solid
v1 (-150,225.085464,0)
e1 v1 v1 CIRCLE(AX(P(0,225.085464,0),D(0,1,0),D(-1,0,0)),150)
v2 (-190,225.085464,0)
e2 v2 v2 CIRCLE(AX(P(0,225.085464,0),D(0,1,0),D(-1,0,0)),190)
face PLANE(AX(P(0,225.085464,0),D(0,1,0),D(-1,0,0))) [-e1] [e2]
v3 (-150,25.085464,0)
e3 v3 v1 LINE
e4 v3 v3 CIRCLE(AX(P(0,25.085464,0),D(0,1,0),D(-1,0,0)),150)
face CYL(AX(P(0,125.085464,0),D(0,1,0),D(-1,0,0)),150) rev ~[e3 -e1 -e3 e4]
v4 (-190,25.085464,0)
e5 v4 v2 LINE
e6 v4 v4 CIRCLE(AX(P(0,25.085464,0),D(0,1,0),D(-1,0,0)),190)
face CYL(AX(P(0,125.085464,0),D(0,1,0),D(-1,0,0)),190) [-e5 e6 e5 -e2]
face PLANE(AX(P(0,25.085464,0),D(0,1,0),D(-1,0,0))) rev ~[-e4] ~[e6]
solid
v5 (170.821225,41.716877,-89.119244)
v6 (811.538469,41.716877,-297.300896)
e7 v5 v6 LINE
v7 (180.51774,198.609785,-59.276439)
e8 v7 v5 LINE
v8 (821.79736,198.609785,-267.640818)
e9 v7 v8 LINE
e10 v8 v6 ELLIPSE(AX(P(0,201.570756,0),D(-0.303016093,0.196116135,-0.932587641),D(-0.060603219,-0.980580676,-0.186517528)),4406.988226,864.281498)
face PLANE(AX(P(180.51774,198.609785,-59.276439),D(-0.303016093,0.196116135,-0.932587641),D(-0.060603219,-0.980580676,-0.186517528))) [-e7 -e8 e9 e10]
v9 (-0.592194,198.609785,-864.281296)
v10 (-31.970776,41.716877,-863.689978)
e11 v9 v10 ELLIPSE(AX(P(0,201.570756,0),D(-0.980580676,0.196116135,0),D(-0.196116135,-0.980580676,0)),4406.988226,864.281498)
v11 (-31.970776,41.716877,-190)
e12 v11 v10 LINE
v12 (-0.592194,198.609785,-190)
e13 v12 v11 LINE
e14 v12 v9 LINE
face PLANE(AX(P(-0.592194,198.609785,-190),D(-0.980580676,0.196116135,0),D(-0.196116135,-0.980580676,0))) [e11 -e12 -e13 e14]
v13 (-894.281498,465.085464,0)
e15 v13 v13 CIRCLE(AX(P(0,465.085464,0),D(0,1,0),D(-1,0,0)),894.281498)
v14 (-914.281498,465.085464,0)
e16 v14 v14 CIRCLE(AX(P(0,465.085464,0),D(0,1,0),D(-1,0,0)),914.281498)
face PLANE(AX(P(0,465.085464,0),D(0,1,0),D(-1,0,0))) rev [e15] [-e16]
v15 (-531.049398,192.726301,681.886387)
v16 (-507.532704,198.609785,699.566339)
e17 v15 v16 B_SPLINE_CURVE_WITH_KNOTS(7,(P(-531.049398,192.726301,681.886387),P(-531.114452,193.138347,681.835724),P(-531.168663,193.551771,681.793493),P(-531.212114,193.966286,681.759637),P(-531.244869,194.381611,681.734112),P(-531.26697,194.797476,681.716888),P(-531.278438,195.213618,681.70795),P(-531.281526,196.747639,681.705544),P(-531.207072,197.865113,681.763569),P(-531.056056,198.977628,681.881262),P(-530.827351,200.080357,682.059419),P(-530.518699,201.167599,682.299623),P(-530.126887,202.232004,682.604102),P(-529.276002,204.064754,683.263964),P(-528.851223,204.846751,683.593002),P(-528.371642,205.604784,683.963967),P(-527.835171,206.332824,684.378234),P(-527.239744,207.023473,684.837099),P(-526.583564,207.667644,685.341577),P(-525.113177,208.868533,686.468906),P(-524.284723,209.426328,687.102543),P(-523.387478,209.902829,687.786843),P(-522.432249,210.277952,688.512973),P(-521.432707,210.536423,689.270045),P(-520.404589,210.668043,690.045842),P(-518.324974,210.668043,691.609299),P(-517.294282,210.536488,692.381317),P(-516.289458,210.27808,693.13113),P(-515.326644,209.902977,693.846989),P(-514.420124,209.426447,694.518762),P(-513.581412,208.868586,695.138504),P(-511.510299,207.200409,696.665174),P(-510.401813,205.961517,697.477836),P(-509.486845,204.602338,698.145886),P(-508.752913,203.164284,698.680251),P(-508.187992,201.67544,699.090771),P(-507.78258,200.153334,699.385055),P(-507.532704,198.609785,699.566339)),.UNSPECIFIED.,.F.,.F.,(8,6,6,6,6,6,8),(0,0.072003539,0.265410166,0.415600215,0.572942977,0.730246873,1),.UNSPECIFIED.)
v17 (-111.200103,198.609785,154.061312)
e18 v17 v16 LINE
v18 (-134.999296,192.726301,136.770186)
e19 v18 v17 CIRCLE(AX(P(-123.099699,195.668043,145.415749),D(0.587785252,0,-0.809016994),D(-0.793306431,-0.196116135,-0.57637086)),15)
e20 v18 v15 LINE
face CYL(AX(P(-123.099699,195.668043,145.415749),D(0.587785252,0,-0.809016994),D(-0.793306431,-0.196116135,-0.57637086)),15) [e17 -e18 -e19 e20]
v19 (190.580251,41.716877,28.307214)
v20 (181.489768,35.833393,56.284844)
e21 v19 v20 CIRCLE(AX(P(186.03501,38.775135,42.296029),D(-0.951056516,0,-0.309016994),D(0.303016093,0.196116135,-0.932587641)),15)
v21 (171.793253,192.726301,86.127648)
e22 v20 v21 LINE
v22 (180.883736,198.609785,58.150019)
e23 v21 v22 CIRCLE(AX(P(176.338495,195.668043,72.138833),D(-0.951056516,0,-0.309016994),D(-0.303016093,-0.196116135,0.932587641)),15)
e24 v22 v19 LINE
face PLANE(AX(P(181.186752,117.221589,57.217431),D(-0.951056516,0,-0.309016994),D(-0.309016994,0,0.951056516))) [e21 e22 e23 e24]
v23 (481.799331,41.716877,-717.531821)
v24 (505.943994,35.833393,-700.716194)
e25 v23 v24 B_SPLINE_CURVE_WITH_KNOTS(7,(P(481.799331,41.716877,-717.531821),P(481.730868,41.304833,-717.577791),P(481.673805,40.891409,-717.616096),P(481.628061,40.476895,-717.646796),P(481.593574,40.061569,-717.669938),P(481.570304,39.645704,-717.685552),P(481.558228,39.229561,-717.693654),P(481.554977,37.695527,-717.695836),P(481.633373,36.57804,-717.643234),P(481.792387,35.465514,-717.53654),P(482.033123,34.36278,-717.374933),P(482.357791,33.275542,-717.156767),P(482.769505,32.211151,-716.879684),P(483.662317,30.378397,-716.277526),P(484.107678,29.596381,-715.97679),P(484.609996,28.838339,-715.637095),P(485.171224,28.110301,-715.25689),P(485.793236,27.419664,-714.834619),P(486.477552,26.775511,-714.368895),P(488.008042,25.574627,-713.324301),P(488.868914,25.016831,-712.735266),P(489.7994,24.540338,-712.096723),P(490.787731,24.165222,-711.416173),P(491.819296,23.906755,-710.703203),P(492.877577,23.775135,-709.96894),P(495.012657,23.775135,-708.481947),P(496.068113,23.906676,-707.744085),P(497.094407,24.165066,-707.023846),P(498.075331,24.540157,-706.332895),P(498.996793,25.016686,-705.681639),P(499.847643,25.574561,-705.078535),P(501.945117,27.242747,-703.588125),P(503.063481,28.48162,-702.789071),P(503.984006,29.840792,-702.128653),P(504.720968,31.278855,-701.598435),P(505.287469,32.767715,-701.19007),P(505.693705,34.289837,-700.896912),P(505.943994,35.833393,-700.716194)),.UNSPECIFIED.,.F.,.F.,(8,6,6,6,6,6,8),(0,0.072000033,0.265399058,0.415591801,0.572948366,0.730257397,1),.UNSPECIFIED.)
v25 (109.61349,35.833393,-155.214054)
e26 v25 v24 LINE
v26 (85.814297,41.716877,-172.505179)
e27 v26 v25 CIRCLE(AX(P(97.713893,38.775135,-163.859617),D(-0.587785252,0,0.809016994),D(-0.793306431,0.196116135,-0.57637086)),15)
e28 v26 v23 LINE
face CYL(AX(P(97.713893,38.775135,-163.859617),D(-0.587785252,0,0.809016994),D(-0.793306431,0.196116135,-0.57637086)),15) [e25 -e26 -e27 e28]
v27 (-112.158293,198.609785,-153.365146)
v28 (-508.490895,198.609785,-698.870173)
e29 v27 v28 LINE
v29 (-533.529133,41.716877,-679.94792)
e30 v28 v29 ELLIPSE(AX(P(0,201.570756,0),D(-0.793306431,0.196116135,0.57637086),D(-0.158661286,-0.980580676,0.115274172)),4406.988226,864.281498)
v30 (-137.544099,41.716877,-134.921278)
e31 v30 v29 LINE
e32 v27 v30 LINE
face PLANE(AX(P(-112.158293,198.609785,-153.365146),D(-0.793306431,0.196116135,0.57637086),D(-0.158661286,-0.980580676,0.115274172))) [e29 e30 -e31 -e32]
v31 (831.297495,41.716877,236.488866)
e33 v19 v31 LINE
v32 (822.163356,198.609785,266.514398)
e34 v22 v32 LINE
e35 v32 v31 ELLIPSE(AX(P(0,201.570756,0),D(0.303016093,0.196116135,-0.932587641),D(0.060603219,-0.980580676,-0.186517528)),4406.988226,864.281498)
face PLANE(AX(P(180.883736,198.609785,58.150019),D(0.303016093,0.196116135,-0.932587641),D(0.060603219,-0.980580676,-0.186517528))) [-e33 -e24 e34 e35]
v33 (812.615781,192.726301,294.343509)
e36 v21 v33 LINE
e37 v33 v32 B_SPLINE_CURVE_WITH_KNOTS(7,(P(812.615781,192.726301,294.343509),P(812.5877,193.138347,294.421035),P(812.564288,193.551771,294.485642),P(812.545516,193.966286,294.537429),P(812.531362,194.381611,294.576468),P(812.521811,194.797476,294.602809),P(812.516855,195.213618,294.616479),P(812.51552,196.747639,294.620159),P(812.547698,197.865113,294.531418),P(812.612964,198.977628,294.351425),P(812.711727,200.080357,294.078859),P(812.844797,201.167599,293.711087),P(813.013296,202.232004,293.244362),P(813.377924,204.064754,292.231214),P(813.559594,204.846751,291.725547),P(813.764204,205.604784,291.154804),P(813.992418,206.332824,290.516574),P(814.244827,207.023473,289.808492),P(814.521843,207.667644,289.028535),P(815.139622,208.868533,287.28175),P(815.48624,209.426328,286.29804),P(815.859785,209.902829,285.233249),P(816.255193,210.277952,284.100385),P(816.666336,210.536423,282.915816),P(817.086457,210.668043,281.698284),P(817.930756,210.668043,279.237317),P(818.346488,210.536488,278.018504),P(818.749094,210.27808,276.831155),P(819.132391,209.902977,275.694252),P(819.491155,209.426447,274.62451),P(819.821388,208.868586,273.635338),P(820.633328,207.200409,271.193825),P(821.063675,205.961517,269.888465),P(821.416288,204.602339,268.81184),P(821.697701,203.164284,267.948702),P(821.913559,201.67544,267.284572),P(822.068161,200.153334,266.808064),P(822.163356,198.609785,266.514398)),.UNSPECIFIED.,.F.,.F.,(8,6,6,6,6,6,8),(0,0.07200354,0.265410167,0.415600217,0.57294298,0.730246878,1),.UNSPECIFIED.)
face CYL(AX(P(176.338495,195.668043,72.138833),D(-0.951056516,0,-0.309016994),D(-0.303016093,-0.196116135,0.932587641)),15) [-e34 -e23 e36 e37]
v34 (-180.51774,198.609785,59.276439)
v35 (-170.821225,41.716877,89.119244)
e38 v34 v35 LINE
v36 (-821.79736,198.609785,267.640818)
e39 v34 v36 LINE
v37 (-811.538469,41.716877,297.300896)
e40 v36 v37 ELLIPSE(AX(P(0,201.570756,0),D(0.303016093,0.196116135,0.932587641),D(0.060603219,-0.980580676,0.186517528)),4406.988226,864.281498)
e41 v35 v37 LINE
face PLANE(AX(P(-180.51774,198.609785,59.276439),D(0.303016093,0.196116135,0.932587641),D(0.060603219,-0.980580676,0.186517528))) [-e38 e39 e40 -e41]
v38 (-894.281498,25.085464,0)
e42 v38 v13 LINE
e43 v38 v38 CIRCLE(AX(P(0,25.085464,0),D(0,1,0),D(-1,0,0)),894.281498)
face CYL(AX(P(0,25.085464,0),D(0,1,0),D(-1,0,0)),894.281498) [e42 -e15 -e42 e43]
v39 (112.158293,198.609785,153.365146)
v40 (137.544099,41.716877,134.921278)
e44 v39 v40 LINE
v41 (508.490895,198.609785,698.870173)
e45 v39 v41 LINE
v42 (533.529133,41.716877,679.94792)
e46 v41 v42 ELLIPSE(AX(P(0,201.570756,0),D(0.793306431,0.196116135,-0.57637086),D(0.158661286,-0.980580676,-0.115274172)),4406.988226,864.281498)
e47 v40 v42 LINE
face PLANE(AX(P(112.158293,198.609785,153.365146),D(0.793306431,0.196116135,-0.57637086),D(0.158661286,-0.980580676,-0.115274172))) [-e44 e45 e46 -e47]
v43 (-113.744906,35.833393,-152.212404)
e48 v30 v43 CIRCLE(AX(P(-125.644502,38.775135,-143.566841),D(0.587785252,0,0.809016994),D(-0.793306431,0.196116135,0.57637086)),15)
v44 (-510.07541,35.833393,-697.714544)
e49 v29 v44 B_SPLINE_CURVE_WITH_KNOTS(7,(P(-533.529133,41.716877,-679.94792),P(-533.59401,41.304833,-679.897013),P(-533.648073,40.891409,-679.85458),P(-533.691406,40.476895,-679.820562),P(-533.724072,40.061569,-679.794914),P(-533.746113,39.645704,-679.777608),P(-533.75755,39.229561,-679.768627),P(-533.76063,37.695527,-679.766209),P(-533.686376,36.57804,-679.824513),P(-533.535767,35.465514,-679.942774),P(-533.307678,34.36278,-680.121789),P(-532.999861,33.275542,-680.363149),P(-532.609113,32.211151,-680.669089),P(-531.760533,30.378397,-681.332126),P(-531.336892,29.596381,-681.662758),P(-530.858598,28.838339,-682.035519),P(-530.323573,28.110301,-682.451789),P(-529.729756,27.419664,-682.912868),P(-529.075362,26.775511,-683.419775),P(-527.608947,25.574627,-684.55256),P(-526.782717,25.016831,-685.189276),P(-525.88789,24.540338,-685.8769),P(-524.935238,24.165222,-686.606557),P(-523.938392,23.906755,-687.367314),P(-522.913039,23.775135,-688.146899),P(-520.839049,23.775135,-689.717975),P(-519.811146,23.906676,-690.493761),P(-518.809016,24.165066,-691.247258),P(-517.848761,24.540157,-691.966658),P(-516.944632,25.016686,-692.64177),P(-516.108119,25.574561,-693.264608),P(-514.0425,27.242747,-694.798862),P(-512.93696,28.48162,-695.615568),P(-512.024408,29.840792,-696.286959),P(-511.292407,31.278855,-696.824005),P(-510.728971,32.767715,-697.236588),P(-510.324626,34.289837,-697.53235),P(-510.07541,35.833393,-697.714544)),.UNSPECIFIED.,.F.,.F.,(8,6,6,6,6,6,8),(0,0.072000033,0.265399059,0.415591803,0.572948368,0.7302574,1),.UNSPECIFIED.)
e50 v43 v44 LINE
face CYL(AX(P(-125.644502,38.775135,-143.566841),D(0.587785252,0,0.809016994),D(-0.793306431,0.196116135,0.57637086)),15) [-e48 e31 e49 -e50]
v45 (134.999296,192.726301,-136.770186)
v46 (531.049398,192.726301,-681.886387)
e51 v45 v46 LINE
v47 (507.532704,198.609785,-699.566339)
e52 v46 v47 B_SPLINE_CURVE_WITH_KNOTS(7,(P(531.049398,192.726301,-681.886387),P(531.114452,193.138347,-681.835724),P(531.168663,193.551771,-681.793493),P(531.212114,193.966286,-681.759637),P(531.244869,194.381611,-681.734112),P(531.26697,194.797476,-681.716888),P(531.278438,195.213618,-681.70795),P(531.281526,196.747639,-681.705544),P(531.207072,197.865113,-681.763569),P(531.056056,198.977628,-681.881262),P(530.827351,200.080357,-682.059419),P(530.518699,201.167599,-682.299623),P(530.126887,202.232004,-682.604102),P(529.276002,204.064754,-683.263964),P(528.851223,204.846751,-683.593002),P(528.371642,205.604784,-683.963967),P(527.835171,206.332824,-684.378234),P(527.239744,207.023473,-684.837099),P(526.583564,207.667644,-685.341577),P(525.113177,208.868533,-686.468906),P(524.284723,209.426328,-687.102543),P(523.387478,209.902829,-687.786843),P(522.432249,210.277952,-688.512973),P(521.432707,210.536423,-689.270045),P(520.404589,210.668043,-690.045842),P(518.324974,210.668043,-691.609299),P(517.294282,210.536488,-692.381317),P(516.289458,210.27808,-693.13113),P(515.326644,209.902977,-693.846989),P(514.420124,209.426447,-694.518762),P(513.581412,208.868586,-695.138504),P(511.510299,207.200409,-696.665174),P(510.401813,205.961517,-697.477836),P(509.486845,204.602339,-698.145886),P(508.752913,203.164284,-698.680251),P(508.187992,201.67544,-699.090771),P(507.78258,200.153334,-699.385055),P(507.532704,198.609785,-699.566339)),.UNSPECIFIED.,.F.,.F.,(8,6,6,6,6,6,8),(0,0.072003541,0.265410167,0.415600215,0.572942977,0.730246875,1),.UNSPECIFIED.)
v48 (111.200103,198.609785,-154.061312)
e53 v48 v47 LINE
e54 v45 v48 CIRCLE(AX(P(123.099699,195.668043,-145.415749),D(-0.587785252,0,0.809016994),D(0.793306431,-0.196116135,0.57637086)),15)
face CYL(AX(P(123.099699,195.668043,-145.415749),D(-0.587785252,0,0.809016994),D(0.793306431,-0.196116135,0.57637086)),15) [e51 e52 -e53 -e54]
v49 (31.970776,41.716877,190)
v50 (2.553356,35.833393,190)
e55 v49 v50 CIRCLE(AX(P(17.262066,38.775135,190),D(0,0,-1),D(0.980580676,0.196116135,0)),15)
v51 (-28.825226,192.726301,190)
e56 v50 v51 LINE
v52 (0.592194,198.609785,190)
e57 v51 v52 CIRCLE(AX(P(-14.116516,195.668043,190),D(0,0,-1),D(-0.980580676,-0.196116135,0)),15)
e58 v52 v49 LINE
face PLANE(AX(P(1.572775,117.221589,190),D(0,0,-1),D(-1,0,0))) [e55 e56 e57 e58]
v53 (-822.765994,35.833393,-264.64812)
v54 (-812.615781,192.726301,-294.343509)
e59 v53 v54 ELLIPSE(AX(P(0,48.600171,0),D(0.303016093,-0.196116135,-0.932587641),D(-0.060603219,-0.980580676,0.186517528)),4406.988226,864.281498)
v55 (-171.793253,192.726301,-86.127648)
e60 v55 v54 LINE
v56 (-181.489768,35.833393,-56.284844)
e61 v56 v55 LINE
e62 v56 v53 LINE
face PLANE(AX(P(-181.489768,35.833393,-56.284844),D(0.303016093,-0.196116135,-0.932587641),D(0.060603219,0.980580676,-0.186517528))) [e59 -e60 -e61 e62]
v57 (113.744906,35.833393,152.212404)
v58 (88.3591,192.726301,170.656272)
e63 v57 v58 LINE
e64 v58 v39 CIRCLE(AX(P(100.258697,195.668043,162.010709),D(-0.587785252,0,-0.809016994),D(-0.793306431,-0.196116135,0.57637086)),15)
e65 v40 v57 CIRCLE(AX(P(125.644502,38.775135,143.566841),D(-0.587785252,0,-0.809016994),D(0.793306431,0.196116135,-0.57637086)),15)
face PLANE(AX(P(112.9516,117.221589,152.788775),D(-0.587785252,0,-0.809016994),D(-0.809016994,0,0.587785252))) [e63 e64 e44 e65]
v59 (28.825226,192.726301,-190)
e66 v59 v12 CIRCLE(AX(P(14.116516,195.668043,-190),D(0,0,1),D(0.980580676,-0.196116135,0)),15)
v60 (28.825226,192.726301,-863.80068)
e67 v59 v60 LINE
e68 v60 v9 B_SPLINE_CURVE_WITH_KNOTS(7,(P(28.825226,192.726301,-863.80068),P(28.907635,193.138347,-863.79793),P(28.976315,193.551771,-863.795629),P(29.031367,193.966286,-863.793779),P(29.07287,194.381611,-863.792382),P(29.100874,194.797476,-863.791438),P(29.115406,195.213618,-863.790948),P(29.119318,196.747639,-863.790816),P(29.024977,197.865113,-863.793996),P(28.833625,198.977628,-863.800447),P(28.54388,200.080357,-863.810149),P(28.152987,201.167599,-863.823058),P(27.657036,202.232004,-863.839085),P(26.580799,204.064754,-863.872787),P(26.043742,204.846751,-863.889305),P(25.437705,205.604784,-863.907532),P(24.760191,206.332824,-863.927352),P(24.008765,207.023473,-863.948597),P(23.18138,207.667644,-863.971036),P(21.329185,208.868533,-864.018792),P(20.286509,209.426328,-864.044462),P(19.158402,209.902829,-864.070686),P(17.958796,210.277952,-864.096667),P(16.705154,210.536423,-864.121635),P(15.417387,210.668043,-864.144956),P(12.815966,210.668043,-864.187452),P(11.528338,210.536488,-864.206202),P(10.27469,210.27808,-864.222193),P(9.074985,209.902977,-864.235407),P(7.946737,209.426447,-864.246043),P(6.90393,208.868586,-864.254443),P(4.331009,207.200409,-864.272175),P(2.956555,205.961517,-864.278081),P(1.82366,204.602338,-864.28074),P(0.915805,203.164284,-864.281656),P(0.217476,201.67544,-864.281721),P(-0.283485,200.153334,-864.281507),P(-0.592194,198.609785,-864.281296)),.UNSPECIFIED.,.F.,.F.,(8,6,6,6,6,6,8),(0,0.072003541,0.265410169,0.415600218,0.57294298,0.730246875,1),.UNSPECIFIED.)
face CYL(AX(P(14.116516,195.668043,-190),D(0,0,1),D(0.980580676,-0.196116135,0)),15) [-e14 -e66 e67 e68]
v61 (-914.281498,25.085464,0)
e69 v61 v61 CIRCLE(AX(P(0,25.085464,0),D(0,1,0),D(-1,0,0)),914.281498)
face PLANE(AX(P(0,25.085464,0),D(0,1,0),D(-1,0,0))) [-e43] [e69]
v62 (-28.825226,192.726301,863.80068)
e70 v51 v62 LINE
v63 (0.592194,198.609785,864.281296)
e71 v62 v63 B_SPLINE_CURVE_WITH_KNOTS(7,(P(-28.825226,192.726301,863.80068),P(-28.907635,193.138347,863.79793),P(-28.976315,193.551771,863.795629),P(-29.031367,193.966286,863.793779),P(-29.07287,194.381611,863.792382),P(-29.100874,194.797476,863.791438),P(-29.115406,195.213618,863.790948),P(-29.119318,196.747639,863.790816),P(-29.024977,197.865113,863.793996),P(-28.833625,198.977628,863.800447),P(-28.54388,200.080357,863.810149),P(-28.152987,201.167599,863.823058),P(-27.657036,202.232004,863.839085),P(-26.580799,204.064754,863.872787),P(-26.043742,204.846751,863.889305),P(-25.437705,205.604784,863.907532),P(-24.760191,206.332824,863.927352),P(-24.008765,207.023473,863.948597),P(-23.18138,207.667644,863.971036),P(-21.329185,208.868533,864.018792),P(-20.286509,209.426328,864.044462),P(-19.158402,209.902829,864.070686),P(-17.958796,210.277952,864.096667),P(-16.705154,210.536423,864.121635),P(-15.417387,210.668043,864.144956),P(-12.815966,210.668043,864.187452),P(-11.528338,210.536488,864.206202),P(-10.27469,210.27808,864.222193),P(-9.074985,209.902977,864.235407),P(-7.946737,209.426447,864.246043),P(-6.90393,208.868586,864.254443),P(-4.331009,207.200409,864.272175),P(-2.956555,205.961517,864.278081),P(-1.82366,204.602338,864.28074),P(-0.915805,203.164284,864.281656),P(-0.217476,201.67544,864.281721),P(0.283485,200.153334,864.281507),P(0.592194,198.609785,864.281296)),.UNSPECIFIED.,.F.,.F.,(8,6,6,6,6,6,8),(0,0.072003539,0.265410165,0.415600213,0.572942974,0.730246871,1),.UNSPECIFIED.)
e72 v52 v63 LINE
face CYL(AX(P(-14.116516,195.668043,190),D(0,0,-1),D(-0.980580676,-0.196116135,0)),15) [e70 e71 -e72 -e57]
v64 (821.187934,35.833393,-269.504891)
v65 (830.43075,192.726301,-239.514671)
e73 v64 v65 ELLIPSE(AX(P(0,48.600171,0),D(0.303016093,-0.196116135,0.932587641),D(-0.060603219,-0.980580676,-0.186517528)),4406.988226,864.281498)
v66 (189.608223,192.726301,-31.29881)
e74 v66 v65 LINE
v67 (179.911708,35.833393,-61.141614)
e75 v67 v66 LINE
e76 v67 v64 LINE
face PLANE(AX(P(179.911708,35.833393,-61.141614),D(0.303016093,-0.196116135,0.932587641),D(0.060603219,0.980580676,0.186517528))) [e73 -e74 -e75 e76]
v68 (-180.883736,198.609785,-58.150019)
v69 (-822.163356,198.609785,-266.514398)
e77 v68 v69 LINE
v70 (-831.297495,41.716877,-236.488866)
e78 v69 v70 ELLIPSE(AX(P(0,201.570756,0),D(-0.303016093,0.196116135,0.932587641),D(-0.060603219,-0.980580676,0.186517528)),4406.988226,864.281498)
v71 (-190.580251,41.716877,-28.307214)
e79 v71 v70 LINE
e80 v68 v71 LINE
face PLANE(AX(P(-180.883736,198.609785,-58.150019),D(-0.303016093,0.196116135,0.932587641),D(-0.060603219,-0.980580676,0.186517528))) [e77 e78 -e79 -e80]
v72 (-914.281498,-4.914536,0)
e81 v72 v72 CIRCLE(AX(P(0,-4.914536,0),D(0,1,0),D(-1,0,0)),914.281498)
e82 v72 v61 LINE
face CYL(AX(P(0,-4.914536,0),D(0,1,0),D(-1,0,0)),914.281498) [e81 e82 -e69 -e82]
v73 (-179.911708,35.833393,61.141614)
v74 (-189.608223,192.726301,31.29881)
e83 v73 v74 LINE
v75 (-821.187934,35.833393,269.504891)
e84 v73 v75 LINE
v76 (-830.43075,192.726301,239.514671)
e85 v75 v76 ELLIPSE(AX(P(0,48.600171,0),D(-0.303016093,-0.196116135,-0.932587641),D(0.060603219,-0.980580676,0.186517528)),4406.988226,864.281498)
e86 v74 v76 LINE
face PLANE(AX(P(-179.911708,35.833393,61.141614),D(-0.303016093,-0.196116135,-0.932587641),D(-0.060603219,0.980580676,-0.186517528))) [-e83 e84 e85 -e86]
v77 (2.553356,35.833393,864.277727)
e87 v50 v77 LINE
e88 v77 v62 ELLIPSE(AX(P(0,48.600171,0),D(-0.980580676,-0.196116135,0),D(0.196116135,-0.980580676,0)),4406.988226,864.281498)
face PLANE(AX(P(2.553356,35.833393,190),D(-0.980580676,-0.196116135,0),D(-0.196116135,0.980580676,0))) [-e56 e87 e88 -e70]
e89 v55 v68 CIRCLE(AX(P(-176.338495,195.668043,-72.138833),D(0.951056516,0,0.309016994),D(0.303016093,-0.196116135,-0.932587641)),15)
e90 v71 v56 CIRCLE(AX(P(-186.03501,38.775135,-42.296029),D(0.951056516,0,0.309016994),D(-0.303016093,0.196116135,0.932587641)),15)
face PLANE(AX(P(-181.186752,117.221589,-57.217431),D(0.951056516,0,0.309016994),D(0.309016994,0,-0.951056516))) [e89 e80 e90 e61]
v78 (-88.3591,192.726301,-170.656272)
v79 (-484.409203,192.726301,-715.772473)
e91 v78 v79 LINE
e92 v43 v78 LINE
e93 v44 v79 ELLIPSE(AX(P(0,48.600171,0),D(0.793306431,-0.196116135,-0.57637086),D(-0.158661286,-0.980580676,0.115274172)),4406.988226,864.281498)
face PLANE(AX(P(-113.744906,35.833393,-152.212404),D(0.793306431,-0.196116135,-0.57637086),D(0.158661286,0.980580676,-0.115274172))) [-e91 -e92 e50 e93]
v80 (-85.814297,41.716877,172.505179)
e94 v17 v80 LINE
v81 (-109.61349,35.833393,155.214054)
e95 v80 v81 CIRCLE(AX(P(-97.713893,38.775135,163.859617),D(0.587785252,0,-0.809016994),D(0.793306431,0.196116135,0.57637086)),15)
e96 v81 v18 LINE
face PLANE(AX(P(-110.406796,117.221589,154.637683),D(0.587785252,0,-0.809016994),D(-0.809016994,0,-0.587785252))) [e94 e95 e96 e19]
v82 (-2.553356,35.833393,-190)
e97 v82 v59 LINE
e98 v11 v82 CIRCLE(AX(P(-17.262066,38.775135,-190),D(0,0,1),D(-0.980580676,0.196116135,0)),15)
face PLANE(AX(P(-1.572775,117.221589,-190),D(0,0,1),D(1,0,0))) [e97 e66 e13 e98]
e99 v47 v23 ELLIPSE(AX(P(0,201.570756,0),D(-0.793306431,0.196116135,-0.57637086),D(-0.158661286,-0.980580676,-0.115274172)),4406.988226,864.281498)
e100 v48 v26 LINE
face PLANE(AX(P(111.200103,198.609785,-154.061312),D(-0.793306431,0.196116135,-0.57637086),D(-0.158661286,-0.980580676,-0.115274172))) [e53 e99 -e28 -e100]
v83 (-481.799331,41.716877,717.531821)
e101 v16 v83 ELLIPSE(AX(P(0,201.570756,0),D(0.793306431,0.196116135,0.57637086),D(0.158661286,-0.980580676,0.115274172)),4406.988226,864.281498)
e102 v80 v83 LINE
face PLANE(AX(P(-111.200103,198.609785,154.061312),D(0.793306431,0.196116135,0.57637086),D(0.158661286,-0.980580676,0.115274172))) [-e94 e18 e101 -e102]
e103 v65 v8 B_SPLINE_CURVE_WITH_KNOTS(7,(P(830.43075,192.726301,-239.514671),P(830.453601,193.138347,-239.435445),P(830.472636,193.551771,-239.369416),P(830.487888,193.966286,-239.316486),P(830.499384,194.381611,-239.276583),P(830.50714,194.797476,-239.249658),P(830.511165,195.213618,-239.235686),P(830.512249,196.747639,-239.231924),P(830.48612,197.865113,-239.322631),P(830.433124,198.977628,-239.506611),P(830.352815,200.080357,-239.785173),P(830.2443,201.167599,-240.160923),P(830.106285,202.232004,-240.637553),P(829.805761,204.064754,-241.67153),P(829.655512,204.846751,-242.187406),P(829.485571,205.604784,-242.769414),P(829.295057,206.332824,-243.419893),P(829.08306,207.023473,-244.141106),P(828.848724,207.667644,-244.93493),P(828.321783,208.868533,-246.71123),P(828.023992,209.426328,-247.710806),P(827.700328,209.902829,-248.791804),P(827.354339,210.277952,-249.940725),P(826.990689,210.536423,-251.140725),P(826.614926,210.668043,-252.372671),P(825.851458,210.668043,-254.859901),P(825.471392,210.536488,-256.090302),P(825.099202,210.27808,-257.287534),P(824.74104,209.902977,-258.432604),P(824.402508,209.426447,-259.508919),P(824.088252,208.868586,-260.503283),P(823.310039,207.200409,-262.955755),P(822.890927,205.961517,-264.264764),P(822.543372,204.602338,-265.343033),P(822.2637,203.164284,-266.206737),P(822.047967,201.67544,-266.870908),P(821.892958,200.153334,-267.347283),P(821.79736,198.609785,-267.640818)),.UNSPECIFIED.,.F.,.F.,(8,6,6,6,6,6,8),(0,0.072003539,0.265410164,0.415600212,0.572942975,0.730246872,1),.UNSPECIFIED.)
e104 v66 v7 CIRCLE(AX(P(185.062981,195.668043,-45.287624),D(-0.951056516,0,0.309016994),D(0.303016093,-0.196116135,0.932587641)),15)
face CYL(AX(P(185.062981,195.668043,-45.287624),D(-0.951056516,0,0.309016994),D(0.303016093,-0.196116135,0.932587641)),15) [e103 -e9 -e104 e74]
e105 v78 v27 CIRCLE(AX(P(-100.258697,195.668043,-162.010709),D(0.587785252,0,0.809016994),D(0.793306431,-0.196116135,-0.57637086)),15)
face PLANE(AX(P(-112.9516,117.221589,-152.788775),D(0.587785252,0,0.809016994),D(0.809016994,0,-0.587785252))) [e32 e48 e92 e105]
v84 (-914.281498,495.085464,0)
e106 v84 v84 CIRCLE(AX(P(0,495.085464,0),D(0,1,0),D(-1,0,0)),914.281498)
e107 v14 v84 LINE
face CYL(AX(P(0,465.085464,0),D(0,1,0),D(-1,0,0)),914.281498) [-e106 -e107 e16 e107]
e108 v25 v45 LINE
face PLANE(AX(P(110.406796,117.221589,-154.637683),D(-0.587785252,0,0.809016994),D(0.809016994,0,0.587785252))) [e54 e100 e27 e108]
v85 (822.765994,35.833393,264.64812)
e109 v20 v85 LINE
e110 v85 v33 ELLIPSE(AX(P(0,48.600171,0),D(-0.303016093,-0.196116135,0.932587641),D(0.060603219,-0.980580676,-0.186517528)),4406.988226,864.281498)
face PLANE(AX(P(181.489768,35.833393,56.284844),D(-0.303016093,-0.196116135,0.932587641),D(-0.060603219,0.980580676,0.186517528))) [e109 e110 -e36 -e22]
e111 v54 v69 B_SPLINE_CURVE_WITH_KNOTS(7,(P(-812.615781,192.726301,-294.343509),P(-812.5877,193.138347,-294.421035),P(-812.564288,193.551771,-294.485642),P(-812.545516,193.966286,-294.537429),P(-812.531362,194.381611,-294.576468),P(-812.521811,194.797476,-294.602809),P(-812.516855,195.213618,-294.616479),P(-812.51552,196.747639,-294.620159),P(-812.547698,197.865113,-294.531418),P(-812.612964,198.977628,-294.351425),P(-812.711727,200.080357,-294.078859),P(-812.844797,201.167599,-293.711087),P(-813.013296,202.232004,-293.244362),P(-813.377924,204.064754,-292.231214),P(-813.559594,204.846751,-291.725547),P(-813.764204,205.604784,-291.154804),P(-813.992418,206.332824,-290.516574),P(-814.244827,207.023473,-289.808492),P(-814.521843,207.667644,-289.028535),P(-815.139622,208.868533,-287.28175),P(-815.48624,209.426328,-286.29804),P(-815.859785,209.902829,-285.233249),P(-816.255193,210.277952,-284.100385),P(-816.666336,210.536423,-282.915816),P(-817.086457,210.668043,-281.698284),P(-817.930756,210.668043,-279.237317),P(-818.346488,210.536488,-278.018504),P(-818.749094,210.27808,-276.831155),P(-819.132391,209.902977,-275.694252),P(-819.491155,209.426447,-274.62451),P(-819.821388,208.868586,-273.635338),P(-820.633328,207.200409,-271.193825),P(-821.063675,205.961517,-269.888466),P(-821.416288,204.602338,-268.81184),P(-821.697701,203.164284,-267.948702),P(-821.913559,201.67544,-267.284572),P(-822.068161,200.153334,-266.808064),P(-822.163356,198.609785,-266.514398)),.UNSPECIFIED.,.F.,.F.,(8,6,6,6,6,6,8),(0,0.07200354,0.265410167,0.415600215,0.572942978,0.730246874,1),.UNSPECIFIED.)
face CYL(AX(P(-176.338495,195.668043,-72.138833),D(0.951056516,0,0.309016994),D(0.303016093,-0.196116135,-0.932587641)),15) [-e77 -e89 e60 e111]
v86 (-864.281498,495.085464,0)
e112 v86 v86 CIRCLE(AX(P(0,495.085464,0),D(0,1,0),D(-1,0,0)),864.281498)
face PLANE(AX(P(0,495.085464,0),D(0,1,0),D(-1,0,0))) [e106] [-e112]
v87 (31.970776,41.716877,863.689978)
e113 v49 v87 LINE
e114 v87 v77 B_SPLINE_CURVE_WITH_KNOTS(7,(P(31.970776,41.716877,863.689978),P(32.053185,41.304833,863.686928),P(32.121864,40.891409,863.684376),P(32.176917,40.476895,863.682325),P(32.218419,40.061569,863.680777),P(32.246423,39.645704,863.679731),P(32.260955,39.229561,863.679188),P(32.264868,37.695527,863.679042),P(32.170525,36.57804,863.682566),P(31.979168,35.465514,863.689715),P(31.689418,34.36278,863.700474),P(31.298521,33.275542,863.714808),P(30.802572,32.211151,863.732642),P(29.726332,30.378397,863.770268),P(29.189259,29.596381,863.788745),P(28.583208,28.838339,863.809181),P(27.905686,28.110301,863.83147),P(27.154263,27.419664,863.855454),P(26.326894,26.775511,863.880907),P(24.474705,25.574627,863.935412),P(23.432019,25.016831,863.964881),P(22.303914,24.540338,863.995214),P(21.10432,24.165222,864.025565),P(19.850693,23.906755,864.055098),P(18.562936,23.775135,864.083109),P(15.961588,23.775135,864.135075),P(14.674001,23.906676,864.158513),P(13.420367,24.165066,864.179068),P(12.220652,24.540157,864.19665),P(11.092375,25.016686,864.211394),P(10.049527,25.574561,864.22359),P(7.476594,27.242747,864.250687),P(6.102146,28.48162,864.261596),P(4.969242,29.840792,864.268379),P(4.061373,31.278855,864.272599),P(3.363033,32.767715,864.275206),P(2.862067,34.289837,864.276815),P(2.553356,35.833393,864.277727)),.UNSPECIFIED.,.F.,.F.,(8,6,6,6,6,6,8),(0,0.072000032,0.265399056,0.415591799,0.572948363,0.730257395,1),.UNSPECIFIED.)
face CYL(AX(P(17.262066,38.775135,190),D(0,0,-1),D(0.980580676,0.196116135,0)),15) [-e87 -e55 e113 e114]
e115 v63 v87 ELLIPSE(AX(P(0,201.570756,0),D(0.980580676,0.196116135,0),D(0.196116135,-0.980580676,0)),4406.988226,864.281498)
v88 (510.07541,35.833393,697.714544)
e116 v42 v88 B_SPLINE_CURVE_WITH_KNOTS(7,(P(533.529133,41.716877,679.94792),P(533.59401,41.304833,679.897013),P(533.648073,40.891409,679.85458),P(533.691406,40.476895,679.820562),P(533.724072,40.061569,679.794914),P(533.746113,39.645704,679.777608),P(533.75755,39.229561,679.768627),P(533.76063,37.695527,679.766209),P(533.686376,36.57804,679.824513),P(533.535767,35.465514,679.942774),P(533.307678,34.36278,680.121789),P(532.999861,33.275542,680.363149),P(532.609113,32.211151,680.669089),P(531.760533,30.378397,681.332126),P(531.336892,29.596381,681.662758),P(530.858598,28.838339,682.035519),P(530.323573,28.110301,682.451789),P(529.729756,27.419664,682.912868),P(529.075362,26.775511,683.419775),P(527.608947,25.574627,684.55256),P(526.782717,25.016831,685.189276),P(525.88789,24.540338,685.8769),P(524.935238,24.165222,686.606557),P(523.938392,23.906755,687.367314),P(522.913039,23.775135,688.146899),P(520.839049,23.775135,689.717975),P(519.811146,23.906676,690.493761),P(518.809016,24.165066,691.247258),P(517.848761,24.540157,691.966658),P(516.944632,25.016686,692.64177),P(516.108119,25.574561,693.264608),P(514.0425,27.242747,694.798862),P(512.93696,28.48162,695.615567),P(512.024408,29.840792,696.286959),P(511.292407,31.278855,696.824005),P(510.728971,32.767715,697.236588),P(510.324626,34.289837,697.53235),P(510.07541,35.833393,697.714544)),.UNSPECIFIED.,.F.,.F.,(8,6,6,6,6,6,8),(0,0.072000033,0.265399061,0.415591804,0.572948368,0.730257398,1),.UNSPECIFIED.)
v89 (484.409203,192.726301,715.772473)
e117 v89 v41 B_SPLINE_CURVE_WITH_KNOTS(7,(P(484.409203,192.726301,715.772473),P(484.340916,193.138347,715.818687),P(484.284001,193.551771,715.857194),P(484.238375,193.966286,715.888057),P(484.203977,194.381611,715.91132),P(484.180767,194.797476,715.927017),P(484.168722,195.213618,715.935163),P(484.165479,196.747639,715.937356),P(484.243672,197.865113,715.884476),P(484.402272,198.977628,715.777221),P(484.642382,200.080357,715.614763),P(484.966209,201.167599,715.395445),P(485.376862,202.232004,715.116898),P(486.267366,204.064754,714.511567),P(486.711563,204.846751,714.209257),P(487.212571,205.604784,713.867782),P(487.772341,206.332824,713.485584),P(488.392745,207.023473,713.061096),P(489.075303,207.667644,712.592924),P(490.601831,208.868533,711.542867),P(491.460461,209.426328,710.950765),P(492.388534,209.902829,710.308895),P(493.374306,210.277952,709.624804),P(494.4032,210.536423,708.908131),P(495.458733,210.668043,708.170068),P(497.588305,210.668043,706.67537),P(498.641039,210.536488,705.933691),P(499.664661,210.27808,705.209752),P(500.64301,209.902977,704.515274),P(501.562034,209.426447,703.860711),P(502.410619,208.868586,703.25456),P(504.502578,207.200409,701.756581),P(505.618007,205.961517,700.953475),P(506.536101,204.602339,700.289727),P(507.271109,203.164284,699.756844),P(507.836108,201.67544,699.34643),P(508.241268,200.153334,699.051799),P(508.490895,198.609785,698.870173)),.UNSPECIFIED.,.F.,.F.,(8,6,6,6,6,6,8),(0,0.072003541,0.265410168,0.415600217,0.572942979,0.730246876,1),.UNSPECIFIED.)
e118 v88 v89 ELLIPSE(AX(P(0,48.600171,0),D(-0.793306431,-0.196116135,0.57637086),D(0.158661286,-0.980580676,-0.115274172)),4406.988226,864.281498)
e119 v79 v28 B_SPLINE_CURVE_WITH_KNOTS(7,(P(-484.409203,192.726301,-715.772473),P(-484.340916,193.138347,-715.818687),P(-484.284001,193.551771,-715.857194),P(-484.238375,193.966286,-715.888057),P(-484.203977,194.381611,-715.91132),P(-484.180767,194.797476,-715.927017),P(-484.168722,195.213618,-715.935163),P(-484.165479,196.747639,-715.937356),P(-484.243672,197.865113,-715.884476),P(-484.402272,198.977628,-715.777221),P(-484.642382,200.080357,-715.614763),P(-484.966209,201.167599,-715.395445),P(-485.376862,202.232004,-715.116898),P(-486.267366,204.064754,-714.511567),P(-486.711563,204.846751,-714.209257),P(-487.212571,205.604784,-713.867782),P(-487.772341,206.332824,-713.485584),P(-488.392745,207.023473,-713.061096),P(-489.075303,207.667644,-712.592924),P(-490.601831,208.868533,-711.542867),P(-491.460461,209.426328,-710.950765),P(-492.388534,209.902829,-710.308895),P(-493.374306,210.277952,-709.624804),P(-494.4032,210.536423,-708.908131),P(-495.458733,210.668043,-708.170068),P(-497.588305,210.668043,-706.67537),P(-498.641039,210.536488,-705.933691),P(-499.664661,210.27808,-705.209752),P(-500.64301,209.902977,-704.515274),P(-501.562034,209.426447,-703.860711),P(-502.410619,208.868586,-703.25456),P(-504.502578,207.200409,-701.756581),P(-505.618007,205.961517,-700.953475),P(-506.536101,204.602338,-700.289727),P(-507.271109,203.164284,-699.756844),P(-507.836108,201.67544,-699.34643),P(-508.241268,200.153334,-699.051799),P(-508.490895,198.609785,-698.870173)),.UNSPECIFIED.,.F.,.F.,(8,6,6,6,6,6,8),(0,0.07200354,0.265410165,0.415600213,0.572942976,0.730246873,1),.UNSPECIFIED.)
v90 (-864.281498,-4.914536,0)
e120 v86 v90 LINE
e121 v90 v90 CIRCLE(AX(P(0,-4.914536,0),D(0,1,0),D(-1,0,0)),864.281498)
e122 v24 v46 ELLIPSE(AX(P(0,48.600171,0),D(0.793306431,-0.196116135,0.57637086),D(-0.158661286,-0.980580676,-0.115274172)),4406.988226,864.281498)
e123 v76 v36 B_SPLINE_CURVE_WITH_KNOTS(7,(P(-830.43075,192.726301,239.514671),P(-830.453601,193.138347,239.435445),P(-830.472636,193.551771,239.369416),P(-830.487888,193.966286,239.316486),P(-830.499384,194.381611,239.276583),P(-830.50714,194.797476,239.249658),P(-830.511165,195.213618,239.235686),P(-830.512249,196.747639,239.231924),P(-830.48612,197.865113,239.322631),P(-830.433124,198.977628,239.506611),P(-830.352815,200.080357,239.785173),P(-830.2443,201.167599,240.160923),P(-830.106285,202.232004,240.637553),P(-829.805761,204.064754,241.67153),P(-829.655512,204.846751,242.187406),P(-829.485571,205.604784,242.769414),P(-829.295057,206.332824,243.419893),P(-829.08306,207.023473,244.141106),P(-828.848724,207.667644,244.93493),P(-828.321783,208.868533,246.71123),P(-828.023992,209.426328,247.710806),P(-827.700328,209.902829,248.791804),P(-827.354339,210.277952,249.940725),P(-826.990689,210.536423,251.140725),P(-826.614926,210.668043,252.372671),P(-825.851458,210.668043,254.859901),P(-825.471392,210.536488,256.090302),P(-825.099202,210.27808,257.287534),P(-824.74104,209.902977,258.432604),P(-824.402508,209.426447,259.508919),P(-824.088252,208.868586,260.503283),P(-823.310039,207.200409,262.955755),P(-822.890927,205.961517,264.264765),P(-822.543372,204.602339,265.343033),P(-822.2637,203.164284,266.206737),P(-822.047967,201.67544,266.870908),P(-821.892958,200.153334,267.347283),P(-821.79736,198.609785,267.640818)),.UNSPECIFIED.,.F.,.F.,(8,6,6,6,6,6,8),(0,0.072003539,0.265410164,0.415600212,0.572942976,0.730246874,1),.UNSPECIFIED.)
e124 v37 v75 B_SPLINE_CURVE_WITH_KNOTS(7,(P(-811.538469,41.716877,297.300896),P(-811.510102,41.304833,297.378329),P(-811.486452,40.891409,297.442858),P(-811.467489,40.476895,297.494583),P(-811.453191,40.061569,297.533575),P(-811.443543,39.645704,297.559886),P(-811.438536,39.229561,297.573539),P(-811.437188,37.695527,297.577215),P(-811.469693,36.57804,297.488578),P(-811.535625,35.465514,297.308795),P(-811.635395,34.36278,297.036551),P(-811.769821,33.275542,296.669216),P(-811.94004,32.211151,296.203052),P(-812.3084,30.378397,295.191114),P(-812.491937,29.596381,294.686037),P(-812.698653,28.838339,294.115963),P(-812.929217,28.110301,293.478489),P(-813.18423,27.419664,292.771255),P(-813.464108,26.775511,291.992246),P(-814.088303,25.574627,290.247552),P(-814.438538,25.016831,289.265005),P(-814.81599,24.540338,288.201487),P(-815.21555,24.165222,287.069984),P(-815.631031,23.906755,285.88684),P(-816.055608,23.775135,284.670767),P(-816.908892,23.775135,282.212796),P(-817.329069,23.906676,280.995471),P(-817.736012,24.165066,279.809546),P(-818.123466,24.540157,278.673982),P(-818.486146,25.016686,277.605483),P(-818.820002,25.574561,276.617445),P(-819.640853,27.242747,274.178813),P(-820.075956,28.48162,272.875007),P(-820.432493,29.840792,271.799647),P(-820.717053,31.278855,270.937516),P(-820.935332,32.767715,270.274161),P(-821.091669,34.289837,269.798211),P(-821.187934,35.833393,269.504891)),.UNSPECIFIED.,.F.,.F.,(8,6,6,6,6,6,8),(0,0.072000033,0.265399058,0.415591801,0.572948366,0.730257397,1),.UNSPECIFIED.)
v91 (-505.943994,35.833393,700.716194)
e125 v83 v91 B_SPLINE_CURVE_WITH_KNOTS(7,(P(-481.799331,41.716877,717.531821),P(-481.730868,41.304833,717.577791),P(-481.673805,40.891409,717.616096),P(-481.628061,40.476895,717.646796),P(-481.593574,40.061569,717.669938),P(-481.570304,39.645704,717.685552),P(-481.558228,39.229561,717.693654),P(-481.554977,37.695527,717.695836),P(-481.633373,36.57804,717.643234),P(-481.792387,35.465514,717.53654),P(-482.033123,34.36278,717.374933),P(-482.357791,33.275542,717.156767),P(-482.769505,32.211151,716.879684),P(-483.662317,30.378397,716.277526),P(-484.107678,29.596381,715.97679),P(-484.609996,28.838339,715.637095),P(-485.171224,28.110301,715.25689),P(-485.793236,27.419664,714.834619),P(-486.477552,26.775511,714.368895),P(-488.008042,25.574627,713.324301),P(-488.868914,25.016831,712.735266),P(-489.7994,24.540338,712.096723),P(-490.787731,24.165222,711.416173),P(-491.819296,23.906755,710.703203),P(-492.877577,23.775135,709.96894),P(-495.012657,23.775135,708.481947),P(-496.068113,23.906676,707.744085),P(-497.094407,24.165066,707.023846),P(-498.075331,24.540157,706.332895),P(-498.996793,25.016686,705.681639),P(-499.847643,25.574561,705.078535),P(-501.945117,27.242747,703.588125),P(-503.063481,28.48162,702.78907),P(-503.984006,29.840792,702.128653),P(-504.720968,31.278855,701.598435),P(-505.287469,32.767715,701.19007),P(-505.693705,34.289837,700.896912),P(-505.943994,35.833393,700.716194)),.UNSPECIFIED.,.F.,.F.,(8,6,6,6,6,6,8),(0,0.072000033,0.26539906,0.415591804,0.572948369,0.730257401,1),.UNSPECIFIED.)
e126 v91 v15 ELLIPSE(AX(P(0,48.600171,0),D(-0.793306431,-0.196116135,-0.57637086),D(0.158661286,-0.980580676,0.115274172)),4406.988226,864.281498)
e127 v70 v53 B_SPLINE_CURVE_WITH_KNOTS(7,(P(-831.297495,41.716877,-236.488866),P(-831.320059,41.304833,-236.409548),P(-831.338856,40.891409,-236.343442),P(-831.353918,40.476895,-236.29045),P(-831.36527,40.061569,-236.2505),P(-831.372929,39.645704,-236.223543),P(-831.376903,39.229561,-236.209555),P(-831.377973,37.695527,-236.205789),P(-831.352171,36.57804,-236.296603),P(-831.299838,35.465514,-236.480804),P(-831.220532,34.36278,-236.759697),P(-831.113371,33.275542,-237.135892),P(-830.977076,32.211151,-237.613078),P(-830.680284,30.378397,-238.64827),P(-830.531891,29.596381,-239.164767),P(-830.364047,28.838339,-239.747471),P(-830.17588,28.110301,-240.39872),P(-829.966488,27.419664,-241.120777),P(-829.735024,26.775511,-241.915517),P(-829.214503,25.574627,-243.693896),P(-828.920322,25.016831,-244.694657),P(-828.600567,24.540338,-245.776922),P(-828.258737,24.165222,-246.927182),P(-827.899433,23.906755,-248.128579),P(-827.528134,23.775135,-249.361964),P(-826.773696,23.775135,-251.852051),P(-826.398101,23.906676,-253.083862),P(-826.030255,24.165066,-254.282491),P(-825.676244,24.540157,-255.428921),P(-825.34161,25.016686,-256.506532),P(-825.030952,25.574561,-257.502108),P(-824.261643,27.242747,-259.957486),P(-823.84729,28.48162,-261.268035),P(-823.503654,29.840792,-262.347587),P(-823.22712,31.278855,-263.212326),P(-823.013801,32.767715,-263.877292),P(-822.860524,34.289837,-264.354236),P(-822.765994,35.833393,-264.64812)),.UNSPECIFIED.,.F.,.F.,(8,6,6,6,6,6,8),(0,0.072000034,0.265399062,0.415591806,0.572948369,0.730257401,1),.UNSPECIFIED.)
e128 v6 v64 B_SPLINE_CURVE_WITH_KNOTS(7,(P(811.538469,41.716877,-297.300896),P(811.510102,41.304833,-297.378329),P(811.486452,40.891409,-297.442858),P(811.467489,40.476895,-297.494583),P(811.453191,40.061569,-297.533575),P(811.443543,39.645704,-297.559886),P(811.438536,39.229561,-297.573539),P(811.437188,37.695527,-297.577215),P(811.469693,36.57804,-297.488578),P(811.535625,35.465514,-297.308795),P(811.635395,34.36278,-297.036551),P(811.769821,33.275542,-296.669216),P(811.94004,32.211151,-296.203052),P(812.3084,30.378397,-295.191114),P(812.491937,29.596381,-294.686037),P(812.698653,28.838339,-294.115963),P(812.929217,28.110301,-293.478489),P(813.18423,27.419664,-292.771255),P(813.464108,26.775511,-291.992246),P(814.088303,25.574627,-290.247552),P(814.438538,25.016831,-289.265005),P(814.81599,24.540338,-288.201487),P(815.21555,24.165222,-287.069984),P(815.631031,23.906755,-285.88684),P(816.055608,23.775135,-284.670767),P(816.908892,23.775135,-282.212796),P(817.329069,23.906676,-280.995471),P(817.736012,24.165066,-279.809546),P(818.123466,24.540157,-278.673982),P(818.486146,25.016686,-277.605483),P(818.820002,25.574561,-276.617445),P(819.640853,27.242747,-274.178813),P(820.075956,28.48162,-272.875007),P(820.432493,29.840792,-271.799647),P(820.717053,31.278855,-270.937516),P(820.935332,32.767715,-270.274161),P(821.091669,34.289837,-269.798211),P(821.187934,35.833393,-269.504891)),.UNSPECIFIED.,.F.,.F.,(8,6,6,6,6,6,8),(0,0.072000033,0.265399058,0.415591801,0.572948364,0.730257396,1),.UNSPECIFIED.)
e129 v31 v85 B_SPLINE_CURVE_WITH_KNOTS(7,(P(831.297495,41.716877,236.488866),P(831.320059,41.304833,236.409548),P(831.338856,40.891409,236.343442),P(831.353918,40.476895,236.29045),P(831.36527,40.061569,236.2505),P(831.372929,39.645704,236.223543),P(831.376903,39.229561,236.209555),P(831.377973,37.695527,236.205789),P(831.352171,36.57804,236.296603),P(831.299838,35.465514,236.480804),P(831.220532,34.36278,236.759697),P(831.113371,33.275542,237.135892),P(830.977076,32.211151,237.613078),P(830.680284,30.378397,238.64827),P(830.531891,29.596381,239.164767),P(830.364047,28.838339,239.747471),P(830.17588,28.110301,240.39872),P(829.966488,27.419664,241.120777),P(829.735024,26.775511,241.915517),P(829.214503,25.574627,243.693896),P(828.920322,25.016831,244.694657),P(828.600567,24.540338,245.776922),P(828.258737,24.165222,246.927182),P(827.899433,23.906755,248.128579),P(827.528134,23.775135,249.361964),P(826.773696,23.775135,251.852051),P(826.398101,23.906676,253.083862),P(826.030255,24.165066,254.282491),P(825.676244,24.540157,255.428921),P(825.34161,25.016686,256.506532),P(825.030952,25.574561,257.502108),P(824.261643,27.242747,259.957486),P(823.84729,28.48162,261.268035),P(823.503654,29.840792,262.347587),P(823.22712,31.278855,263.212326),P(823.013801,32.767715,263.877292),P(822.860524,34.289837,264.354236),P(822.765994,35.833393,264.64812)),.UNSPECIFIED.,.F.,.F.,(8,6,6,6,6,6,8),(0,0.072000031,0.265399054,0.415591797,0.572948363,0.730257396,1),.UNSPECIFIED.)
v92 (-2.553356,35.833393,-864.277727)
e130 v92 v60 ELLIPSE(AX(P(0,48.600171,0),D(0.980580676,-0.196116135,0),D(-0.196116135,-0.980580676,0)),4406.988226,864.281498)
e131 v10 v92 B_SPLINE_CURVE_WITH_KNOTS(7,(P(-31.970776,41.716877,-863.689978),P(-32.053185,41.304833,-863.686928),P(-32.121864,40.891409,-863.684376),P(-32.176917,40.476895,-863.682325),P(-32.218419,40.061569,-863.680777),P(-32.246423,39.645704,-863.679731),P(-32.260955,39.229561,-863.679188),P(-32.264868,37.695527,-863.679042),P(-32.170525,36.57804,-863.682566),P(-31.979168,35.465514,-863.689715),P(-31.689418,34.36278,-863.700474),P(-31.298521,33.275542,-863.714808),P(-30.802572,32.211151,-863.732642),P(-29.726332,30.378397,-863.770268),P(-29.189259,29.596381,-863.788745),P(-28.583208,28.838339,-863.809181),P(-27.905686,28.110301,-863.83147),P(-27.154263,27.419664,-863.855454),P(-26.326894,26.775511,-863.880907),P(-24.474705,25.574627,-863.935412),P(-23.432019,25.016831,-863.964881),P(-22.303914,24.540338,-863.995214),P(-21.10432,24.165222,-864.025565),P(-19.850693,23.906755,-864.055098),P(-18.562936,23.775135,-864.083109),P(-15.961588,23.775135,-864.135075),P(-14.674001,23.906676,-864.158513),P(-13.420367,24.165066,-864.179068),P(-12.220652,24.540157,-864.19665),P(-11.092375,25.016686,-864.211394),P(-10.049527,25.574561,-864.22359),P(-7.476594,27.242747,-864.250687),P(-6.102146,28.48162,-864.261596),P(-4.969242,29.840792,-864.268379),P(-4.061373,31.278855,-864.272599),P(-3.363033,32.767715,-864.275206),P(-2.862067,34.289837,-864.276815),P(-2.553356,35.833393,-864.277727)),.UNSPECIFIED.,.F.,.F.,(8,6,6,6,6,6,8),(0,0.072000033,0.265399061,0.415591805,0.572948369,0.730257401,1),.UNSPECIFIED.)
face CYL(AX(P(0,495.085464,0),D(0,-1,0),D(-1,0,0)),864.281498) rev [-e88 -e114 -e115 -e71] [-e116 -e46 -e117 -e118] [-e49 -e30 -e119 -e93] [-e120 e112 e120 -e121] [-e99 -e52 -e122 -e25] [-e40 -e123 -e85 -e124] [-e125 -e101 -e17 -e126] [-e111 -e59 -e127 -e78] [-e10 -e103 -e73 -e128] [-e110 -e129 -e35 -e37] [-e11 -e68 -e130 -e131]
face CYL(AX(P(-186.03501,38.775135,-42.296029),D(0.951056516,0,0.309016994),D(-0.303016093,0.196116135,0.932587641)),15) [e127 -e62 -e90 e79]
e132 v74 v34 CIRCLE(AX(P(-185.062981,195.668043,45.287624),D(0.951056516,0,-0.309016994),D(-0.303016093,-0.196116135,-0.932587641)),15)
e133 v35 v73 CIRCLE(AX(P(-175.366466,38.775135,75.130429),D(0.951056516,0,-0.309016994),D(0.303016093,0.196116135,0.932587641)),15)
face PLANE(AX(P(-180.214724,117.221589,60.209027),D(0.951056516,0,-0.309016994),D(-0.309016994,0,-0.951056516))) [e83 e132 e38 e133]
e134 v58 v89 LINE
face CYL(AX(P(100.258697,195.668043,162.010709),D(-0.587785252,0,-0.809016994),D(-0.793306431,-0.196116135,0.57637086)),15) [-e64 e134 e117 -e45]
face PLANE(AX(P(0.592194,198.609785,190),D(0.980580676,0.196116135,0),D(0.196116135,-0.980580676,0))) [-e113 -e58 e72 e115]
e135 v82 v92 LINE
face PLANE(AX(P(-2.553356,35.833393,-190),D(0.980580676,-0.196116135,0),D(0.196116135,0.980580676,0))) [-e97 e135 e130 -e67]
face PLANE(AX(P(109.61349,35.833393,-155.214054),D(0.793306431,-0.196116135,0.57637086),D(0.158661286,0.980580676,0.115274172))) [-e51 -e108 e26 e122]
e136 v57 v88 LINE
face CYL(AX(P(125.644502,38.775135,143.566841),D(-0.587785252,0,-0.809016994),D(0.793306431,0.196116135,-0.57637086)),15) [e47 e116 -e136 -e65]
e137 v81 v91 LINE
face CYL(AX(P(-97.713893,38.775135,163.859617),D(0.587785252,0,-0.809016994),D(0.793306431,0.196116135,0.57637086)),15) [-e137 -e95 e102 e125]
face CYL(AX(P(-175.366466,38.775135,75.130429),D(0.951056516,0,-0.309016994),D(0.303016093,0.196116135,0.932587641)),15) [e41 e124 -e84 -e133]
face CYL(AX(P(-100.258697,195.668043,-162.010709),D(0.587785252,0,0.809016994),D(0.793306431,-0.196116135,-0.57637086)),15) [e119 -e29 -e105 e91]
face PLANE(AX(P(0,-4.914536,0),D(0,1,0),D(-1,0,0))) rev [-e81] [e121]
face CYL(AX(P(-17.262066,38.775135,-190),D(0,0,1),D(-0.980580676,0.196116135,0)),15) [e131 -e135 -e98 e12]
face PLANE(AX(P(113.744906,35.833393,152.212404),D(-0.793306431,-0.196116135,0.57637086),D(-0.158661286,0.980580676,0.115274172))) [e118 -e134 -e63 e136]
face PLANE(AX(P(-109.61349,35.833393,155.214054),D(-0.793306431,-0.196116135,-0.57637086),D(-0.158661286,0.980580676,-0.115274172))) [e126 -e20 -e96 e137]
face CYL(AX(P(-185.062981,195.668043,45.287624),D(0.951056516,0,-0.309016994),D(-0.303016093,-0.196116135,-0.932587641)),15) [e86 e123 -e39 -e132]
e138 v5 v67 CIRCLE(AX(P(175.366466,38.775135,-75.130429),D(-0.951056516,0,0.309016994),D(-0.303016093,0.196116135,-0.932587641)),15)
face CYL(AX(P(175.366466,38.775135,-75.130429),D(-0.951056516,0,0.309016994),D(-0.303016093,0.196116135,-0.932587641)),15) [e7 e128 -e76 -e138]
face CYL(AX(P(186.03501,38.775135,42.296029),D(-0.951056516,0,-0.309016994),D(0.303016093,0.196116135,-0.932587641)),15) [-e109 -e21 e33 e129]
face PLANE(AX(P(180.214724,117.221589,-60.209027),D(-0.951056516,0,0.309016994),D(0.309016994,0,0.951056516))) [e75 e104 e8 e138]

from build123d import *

# Parameters (mm, degrees)
ESQUISSE3_W                  = 40
ESQUISSE3_H                  = 200
BOSS_EXTRU_1_DEPTH           = 674.281499
R_P_TITION_CIRCULAIRE1_COUNT = 10


with BuildPart() as part:
    # Esquisse1 → Révolution1 (revolve)
    with BuildSketch(Plane.XY):
        Polygon((-894.281498485, 25.08546357), (-894.281498485, 465.08546357), (-914.281498485, 465.08546357), (-914.281498485, 495.08546357), (-864.281498485, 495.08546357), (-864.281498485, -4.91453643), (-914.281498485, -4.91453643), (-914.281498485, 25.08546357), align=None)
    revolve(axis=Axis((0, 0, 0), (0, 1, 0)))

    # Esquisse7 → Boss.-Extru.1 (add)
    with BuildSketch(Plane(origin=(0, 225.08546357, -190), x_dir=(-1, 0, 0), z_dir=(0, 0, -1))):
        with BuildLine():
            Line((2.553355541, -189.252070408), (-28.825226081, -32.359162298))
            ThreePointArc((-28.825226081, -32.359162298), (-17.058257973, -14.708710135), (0.59219419, -26.475678244))
            Line((0.59219419, -26.475678244), (31.970775812, -183.368586354))
            ThreePointArc((31.970775812, -183.368586354), (20.203807703, -201.019038517), (2.553355541, -189.252070408))
        make_face()
    boss_extru_1 = extrude(amount=BOSS_EXTRU_1_DEPTH)

    # Répétition circulaire1: Boss.-Extru.1 ×10 about axis
    r_p_tition_circulaire1_axis = Axis((0, 0, 0), (0, 1, 0))
    for i in range(1, R_P_TITION_CIRCULAIRE1_COUNT):
        add(boss_extru_1.rotate(r_p_tition_circulaire1_axis, i * 360 / R_P_TITION_CIRCULAIRE1_COUNT))


with BuildPart() as body_2:
    # Esquisse3 → Révolution3 (revolve)
    with BuildSketch(Plane.XY):
        with Locations((-170, 125.08546357)):
            Rectangle(ESQUISSE3_W, ESQUISSE3_H)
    revolve(axis=Axis((0, -352.296373017, 0), (0, 1, 0)))


solid = Compound([part.part, body_2.part])
